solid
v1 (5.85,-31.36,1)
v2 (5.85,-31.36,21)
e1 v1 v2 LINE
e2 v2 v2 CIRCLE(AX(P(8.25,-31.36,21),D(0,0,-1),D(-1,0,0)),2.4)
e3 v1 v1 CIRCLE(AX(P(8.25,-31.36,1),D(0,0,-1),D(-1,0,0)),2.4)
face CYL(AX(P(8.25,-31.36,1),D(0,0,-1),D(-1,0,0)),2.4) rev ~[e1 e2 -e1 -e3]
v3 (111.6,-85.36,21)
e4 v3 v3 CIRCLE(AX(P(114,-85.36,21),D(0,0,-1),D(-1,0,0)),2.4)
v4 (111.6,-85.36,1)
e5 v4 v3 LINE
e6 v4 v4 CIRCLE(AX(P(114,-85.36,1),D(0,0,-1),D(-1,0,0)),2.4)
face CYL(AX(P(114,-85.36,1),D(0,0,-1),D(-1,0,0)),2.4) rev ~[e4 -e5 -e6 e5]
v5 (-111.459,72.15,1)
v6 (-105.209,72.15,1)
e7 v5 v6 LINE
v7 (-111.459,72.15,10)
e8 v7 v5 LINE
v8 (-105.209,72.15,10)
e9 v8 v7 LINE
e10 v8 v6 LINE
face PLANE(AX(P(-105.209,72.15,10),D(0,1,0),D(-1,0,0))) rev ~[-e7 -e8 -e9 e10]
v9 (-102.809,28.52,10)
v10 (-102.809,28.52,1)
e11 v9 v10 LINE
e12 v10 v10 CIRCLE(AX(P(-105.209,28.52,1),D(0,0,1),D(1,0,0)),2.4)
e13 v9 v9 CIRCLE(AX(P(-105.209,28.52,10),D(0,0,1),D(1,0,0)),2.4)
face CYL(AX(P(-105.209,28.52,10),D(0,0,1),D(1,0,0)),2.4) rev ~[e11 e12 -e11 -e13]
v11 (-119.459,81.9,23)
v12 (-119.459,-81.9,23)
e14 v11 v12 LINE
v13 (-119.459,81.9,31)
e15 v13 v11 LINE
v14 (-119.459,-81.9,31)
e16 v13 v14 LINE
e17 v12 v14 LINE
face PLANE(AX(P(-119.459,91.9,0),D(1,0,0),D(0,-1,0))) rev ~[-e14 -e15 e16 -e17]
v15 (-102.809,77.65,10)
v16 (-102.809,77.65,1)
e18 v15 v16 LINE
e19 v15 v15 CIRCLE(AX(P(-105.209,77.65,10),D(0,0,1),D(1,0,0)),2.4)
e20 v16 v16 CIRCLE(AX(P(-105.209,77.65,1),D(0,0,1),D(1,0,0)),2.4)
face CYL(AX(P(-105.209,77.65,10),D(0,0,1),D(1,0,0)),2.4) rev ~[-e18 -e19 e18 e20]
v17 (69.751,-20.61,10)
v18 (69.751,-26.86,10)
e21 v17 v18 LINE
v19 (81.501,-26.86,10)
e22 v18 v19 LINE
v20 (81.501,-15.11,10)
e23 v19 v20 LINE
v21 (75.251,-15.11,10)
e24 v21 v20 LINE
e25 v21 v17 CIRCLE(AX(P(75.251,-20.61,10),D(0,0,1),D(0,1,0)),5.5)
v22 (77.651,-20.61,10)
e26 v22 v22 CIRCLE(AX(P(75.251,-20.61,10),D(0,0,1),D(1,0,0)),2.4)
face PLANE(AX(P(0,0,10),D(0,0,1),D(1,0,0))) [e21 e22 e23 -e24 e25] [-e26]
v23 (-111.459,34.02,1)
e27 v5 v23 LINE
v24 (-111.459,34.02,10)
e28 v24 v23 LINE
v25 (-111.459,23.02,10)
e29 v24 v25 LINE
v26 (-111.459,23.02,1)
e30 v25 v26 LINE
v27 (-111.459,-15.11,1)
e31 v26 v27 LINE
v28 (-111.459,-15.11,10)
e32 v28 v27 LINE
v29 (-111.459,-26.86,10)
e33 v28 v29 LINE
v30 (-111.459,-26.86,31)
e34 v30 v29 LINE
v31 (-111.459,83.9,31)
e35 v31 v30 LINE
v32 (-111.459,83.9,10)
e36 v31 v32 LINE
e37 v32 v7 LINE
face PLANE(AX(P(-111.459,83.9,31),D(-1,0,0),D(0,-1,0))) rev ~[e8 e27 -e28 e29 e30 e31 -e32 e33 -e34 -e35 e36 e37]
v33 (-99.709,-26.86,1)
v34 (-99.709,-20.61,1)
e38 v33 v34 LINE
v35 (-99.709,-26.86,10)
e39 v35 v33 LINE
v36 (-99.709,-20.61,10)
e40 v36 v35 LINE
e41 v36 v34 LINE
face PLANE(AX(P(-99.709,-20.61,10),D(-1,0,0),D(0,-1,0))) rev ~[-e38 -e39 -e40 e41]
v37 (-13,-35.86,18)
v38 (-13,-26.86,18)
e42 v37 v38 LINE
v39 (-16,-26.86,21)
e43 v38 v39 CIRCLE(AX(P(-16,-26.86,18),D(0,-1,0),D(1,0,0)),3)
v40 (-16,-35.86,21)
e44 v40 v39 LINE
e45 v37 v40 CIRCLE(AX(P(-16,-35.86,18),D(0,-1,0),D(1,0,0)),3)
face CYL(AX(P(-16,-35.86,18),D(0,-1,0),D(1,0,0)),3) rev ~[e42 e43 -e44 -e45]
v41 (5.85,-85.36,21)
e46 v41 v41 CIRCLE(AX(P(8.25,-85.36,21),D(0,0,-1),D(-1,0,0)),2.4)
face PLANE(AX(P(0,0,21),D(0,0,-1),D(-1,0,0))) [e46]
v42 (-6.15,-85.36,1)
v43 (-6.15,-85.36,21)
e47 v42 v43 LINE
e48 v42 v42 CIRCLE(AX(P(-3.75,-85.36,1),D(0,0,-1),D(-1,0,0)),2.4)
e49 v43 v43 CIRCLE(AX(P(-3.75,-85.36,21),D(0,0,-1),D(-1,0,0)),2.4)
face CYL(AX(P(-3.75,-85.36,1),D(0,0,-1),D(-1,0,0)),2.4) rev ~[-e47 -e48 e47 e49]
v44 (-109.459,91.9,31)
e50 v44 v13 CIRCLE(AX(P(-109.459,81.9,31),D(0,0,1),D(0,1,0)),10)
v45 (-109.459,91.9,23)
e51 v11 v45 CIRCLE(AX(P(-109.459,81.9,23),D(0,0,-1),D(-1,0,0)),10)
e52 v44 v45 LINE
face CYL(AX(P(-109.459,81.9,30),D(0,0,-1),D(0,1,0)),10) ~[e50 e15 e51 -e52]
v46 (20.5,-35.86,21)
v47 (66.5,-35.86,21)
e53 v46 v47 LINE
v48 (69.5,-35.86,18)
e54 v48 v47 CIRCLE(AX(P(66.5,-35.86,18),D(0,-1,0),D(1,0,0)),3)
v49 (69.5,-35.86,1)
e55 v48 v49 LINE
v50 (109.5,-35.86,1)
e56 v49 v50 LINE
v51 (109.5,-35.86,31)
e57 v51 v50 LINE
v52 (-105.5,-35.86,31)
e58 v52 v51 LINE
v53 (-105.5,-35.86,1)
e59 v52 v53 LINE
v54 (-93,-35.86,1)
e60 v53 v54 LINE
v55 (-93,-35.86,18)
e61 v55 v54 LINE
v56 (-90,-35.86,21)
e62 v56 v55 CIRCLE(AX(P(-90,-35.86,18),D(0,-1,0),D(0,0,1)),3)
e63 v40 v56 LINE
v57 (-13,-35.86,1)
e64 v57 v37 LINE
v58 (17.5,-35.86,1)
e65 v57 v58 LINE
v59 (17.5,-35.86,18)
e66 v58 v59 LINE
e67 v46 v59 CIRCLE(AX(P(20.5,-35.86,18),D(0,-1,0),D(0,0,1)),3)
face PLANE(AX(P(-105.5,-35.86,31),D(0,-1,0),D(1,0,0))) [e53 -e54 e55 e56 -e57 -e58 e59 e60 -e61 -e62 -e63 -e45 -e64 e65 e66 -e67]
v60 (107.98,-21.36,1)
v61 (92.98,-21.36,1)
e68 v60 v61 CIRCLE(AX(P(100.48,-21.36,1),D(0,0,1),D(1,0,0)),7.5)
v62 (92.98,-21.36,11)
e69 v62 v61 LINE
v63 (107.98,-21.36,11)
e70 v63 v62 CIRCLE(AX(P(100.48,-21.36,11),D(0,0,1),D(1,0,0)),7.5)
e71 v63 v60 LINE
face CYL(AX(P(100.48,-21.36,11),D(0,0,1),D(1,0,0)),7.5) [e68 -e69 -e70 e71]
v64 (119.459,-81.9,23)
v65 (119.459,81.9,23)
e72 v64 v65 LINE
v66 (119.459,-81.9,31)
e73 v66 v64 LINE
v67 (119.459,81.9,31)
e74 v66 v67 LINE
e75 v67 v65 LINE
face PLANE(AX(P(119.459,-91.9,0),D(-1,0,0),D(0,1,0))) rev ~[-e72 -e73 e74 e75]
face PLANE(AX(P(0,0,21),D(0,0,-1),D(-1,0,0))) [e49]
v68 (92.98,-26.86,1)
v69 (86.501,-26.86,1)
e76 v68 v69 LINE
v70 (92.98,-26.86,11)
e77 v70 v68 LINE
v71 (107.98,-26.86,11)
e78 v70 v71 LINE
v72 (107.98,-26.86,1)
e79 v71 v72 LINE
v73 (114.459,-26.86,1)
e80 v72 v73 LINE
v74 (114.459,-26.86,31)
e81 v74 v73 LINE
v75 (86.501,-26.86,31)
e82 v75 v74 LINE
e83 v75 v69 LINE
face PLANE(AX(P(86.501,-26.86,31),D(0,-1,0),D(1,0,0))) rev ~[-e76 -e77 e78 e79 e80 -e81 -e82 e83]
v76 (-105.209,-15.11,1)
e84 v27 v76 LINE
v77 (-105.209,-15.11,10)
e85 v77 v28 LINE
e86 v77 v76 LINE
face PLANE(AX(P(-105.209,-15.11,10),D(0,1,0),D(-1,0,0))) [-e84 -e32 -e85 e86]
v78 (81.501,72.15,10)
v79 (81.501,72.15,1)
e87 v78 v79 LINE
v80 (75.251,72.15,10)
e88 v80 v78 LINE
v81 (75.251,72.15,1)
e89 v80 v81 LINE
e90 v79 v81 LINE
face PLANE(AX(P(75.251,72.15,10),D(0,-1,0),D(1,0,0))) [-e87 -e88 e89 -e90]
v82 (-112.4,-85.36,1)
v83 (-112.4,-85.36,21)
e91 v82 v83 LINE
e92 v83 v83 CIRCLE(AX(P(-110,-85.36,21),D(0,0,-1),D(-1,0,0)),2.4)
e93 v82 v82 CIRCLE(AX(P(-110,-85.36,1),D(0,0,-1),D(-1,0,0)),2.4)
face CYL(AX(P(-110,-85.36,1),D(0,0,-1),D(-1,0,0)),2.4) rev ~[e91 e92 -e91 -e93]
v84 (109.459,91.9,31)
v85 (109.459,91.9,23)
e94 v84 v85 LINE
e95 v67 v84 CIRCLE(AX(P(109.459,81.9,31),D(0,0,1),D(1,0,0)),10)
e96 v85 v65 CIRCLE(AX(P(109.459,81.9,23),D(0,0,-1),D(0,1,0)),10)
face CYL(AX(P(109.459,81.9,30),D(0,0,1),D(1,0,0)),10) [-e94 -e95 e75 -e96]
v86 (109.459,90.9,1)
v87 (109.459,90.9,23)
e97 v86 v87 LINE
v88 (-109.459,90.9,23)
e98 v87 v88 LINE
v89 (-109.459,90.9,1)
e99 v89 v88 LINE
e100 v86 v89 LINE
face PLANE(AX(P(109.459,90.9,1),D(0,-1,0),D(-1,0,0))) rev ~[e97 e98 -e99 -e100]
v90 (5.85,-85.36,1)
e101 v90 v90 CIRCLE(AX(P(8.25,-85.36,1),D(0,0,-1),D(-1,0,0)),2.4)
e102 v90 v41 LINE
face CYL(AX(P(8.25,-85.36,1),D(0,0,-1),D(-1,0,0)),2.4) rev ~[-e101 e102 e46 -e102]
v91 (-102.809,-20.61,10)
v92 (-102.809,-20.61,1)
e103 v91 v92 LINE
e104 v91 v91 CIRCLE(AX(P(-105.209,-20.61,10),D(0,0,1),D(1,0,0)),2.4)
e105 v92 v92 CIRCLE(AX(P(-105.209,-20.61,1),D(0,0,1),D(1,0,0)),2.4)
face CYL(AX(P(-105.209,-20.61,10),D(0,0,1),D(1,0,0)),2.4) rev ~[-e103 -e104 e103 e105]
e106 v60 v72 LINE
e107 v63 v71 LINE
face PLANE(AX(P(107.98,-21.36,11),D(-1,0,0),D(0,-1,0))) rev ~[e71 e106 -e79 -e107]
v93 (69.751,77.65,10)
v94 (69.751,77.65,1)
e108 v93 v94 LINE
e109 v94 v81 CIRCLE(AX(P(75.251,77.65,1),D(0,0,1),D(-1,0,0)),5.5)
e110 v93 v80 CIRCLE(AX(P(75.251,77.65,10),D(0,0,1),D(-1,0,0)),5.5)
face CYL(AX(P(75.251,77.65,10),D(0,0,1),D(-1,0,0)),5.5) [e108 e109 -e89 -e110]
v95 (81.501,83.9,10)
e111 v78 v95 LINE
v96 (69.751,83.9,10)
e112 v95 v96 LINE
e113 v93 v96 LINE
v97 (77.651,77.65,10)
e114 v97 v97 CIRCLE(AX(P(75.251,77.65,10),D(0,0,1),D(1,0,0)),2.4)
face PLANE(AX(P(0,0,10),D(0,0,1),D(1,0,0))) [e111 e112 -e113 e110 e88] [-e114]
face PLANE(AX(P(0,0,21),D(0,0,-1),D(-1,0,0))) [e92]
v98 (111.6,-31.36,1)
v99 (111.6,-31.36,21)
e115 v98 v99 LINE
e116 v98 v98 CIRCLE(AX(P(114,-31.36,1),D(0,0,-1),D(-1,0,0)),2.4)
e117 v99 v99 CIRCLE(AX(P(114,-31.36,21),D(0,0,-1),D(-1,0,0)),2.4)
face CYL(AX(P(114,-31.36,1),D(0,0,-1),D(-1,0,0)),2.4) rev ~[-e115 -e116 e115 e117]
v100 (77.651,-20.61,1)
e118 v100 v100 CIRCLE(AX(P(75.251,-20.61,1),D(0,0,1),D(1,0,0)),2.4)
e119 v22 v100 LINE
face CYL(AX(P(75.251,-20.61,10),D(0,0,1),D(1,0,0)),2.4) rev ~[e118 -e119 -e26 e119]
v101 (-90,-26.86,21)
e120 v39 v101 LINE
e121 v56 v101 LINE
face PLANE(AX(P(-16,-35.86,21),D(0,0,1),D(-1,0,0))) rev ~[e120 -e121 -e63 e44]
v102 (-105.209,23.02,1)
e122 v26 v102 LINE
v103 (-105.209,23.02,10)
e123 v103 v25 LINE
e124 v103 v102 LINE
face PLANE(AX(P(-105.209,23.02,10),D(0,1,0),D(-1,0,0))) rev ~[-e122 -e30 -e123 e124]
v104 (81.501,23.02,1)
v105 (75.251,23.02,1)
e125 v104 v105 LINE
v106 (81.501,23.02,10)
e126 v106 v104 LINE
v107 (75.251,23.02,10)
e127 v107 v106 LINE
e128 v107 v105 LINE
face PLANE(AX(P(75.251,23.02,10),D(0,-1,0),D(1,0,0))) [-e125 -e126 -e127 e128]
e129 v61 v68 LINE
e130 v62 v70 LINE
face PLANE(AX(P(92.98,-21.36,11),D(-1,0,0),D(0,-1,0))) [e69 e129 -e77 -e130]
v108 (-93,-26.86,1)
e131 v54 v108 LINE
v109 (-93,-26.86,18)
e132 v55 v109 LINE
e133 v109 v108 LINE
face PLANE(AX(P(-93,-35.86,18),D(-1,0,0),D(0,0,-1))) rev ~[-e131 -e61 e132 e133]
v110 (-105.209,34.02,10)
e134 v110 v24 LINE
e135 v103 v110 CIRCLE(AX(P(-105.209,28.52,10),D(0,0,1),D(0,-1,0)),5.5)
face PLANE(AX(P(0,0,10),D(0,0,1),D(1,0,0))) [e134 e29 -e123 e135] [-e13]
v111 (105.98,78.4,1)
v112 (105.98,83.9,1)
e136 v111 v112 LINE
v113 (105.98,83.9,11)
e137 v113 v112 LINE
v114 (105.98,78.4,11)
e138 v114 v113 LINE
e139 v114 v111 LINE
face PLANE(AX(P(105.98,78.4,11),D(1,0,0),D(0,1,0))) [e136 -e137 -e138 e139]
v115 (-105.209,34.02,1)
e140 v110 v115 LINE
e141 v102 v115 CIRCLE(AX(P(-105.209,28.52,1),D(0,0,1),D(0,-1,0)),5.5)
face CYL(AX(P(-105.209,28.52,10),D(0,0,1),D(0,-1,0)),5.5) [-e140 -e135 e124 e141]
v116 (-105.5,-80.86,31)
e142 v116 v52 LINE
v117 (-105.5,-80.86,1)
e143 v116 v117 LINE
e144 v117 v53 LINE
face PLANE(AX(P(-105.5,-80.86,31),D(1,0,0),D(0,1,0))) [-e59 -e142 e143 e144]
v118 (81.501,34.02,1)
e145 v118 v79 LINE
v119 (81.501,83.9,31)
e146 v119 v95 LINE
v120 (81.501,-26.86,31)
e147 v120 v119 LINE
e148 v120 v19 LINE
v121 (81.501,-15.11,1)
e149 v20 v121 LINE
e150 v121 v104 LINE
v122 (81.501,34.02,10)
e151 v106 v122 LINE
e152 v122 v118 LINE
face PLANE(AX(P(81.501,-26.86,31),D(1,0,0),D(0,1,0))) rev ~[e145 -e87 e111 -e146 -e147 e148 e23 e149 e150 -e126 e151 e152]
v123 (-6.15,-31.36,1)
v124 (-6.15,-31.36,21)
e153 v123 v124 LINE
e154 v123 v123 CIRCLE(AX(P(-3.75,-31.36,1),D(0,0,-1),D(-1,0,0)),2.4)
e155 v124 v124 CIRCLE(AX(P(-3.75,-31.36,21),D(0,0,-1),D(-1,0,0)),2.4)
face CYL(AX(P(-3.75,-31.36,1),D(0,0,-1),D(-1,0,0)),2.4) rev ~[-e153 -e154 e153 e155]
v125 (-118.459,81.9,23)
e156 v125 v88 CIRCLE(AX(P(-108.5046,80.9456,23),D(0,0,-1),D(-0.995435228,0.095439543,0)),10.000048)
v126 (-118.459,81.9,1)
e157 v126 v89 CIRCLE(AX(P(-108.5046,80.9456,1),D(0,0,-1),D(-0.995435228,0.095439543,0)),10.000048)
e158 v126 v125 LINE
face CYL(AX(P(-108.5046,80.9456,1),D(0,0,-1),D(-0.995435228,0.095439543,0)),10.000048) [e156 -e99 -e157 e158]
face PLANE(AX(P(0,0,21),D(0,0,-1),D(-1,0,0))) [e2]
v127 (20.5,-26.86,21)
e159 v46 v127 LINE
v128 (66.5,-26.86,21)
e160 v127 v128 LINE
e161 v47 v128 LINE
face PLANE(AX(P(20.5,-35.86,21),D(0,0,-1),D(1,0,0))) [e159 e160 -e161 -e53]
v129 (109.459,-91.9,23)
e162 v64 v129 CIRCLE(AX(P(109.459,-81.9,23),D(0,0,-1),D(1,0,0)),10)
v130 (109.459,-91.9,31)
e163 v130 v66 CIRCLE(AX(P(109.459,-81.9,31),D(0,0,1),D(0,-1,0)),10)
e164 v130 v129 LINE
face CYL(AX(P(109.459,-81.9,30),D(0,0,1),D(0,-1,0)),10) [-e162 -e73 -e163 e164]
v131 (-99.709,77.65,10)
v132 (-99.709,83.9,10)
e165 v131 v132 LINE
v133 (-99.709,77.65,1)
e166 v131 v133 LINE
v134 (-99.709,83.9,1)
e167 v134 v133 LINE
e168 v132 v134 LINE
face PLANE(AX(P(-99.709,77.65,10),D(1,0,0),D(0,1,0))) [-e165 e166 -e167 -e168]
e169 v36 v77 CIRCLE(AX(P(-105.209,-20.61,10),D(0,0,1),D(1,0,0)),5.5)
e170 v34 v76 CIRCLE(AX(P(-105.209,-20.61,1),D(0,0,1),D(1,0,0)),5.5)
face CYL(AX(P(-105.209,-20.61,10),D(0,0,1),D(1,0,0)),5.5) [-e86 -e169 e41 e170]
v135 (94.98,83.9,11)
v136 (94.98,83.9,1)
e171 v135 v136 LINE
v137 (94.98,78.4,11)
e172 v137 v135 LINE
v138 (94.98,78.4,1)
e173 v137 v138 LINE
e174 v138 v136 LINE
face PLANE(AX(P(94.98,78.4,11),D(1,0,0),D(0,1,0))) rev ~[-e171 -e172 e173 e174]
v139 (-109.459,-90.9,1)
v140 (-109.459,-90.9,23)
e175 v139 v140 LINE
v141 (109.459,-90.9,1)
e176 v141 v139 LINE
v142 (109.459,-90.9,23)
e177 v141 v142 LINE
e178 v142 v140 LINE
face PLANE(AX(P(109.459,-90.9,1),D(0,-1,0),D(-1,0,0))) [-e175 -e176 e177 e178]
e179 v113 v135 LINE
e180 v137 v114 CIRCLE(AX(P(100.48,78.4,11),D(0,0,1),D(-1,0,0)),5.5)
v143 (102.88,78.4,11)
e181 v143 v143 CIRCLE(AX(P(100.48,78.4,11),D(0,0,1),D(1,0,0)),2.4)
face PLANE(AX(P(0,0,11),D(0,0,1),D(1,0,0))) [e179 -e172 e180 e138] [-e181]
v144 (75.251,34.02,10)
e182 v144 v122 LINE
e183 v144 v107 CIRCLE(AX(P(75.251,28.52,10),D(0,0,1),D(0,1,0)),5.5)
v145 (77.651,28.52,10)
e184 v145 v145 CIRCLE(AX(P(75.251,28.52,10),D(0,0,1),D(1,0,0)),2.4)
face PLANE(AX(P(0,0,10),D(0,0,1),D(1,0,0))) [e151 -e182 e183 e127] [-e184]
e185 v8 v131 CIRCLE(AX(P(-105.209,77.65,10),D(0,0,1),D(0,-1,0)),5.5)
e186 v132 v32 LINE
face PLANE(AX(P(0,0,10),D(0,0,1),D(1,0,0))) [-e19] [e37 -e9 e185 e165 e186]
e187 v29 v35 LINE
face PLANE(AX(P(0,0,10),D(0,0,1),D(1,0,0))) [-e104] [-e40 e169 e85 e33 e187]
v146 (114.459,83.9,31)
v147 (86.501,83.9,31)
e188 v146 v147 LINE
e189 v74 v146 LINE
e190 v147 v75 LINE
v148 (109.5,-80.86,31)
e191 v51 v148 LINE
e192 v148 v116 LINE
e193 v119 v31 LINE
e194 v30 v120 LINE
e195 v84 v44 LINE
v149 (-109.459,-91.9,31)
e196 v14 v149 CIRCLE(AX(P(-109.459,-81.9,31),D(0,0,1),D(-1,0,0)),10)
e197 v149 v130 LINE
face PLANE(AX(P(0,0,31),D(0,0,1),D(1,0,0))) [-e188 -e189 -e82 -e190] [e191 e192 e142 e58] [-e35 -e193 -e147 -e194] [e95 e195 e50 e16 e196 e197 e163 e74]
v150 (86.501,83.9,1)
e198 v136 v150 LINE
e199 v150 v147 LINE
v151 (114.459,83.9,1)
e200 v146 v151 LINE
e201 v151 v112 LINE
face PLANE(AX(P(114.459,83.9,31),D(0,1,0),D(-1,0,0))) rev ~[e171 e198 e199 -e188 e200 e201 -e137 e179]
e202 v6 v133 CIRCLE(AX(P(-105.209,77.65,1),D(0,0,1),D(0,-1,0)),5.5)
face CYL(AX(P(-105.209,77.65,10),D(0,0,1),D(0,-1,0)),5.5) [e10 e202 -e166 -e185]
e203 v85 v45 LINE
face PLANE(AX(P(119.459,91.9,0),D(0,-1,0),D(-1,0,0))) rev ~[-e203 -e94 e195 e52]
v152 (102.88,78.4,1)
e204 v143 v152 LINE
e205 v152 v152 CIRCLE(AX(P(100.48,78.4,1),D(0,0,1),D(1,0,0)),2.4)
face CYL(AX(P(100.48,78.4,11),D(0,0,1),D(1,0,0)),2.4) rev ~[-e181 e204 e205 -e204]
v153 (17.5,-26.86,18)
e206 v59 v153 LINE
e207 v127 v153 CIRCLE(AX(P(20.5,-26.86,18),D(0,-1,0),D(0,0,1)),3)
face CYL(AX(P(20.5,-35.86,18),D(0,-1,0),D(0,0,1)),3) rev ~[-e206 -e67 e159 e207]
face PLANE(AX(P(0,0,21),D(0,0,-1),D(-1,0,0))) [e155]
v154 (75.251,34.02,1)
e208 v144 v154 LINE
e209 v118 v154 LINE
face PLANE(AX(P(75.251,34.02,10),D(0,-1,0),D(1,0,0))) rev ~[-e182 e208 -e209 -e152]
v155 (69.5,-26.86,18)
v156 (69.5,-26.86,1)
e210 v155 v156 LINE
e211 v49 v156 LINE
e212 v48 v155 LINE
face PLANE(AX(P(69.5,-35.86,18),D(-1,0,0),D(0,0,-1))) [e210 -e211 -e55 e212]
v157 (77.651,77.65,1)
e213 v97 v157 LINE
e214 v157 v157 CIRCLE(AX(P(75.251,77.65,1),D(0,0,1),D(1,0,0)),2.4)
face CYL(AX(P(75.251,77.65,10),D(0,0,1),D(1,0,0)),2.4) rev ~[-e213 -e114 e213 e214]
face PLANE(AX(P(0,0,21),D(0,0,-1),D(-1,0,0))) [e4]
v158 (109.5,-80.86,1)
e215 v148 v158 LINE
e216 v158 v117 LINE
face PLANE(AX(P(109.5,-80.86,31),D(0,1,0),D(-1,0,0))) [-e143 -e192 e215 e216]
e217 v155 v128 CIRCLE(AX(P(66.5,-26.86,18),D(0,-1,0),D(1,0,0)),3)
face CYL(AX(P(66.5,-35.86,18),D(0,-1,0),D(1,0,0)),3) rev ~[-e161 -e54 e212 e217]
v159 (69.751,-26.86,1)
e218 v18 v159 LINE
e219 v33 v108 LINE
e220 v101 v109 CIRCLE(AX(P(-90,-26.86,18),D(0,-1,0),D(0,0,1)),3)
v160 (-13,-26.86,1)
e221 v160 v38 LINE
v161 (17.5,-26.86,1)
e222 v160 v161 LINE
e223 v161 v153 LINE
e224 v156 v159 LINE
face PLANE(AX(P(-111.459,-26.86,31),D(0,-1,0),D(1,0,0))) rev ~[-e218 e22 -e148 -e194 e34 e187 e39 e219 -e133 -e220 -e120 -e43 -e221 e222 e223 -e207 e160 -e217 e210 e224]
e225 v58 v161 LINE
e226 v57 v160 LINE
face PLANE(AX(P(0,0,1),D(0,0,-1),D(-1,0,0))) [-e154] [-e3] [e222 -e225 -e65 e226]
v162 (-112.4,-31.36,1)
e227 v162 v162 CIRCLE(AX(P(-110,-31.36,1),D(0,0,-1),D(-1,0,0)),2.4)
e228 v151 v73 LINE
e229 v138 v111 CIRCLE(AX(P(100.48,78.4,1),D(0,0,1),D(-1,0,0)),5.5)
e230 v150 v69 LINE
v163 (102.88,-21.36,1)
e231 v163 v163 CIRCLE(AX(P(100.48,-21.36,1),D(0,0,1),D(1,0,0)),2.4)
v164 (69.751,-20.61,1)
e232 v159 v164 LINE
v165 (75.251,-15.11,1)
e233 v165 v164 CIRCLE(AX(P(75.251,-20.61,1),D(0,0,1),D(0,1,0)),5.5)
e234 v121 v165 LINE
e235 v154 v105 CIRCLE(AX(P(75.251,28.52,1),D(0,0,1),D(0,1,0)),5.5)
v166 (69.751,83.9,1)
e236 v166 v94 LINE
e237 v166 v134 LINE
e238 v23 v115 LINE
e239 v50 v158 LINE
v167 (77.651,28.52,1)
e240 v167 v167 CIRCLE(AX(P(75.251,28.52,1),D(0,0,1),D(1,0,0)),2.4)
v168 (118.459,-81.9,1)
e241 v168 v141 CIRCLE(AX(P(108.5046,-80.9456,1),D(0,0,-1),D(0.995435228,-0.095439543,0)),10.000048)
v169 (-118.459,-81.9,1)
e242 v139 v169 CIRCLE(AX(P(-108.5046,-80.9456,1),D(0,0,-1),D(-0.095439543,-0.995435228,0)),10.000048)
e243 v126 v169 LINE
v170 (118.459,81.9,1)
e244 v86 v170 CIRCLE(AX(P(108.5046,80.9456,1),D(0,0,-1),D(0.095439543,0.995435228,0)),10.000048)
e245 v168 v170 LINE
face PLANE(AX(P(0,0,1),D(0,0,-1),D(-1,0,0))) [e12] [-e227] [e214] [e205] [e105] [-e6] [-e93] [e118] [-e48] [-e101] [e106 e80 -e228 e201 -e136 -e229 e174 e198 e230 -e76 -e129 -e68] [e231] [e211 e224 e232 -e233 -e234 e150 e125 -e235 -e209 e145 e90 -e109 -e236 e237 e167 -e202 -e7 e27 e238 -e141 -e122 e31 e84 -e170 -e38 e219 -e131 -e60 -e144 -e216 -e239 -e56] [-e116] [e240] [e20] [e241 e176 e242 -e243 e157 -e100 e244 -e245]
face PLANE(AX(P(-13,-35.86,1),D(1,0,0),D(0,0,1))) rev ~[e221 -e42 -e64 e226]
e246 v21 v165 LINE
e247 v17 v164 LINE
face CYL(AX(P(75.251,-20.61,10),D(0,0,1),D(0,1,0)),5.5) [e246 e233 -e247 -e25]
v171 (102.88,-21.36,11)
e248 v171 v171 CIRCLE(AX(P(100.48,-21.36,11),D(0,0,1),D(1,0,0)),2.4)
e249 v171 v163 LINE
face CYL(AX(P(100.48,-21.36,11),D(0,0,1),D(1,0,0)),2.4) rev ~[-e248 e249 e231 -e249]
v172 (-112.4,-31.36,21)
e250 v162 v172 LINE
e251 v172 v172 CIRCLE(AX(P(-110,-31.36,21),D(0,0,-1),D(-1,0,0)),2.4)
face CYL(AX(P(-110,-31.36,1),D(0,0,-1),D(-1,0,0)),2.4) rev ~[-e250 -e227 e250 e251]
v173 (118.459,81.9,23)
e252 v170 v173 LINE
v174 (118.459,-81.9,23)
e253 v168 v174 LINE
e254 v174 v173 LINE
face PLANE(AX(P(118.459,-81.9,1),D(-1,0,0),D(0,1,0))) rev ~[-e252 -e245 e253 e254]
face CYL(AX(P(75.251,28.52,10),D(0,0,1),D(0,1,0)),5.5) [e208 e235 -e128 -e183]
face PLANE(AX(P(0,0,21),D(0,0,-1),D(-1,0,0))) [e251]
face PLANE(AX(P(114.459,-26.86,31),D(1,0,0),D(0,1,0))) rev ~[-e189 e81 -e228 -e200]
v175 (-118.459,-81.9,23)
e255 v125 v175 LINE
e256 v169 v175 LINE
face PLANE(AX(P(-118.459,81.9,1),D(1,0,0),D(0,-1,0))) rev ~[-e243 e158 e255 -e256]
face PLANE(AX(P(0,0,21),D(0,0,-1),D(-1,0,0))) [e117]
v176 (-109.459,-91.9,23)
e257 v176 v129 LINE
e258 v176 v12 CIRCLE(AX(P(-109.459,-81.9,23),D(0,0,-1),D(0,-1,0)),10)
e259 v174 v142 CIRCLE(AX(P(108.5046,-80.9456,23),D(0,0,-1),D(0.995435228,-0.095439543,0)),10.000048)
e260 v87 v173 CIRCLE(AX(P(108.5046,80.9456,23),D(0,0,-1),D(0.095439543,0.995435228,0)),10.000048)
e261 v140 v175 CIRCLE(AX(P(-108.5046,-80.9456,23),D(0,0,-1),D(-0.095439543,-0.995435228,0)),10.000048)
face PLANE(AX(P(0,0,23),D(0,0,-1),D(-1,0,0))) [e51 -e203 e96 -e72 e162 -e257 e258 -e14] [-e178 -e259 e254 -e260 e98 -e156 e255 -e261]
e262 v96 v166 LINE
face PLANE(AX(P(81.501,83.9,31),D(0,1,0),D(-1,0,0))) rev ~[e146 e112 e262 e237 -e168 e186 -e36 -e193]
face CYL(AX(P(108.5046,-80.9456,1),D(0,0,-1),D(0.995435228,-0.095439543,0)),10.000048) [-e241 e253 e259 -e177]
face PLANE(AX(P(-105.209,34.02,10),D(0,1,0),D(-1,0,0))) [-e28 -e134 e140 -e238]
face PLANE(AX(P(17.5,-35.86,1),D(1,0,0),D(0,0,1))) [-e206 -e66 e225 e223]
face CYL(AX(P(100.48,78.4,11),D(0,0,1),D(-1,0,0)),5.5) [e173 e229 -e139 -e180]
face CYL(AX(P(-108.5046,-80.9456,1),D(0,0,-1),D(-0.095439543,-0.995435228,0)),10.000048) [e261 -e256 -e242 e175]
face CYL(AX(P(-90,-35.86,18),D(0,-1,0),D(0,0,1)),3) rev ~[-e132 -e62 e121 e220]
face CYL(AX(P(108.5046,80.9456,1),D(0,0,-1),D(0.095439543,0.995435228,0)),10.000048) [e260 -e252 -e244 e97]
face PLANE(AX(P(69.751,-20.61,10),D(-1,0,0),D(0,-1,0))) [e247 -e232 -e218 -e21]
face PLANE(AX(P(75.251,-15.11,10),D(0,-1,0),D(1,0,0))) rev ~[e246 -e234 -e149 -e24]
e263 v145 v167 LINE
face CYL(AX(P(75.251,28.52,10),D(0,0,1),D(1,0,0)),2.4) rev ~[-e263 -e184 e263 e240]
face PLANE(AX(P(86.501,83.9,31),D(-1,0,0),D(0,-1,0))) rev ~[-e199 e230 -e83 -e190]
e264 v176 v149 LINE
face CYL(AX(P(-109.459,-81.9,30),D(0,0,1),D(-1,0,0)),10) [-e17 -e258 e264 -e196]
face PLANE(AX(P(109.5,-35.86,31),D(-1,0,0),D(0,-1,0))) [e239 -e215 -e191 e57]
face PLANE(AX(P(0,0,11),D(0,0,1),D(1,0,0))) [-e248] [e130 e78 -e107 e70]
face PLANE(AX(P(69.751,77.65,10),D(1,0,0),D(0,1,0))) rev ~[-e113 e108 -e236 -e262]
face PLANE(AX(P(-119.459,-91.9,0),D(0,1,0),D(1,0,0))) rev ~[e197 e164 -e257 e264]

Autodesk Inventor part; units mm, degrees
ref_plane "YZ Plane" through (0, 0, 0) normal (1, 0, 0) x (0, 1, 0)
ref_plane "XZ Plane" through (0, 0, 0) normal (0, 1, 0) x (-1, 0, 0)
ref_plane "XY Plane" through (0, 0, 0) normal (0, 0, 1) x (1, 0, 0)
sketch "Sketch1" plane through (0, 0, 0) normal (0, 0, 1) x (1, 0, 0)
  line L0 (-119.459, -91.9) -> (119.459, -91.9)
  line L1 (119.459, -91.9) -> (119.459, 91.9)
  line L2 (119.459, 91.9) -> (-119.459, 91.9)
  line L3 (-119.459, 91.9) -> (-119.459, -91.9)
  line L4 (-119.459, -91.9) -> (119.459, 91.9) construction
  line L5 (119.459, -91.9) -> (-119.459, 91.9) construction
  point P0 (0, 0)
  dimension "d0" = 238.918
  dimension "d1" = 183.8
extrude "Extrusion1" add sketch "Sketch1" along normal blind 30
sketch "Sketch2" plane through (0, 0, 30) normal (0, 0, 1) x (1, 0, 0)
  arc A0 (-109.459, 91.9) -> (-119.459, 81.9) centre (-109.459, 81.9) ccw
  line L0 (119.459, 91.9) -> (-119.459, 91.9) projected
  line L1 (-119.459, 91.9) -> (-119.459, -91.9) projected
  line L2 (-119.459, 81.9) -> (-119.459, 91.9)
  line L3 (-109.459, 91.9) -> (-119.459, 91.9)
  arc A1 (-119.459, -81.9) -> (-109.459, -91.9) centre (-109.459, -81.9) ccw
  line L4 (-119.459, -91.9) -> (119.459, -91.9) projected
  line L5 (-119.459, -81.9) -> (-119.459, -91.9)
  line L6 (-109.459, -91.9) -> (-119.459, -91.9)
  arc A2 (109.459, -91.9) -> (119.459, -81.9) centre (109.459, -81.9) ccw
  line L7 (119.459, -91.9) -> (119.459, 91.9) projected
  line L8 (109.459, -91.9) -> (119.459, -91.9)
  line L9 (119.459, -81.9) -> (119.459, -91.9)
  arc A3 (119.459, 81.9) -> (109.459, 91.9) centre (109.459, 81.9) ccw
  line L10 (109.459, 91.9) -> (119.459, 91.9)
  line L11 (119.459, 81.9) -> (119.459, 91.9)
  point P0 (0, 0)
  dimension "d4" = 20
  dimension "d5" = 20
  dimension "d6" = 20
  dimension "d7" = 20
extrude "Extrusion2" add sketch "Sketch2" along normal blind 1 contours L0 A3 L7 A2 L4 A1 L1 A0
sketch "Sketch3" plane through (0, 0, 30) normal (0, 0, 1) x (1, 0, 0)
  line L0 (-119.459, -81.9) -> (-119.459, -91.9) projected
  arc A0 (-119.459, -81.9) -> (-109.459, -91.9) centre (-109.459, -81.9) ccw projected
  arc A1 (-119.459, -81.9) -> (-109.459, -91.9) centre (-109.459, -81.9) ccw
  line L1 (-119.459, -81.9) -> (-119.459, -91.9)
  line L2 (-119.459, -91.9) -> (-109.459, -91.9) projected
  line L3 (-109.459, -91.9) -> (-119.459, -91.9)
  arc A2 (-109.459, 91.9) -> (-119.459, 81.9) centre (-109.459, 81.9) ccw projected
  line L4 (-119.459, 81.9) -> (-119.459, -81.9) projected
  arc A3 (-109.459, 91.9) -> (-119.459, 81.9) centre (-109.459, 81.9) ccw
  line L5 (-119.459, 91.9) -> (-119.459, -91.9) projected
  line L6 (-119.459, 81.9) -> (-119.459, 91.9)
  line L7 (-119.459, 91.9) -> (-109.459, 91.9)
  arc A4 (119.459, 81.9) -> (109.459, 91.9) centre (109.459, 81.9) ccw projected
  arc A5 (119.459, 81.9) -> (109.459, 91.9) centre (109.459, 81.9) ccw
  line L8 (119.459, 81.9) -> (119.459, 91.9) projected
  line L9 (109.459, 91.9) -> (119.459, 91.9)
  line L10 (119.459, 91.9) -> (119.459, 81.9)
  arc A6 (109.459, -91.9) -> (119.459, -81.9) centre (109.459, -81.9) ccw projected
  arc A7 (109.459, -91.9) -> (119.459, -81.9) centre (109.459, -81.9) ccw
  line L11 (119.459, -91.9) -> (119.459, -81.9) projected
  line L12 (119.459, -81.9) -> (119.459, -91.9)
  line L13 (119.459, -91.9) -> (109.459, -91.9)
  point P0 (0, 0)
extrude "Extrusion3" cut sketch "Sketch3" against normal blind 30
sketch "Sketch4" plane through (0, 0, 31) normal (0, 0, 1) x (1, 0, 0)
  line L0 (-111.459, -26.86) -> (81.501, -26.86)
  line L1 (81.501, -26.86) -> (81.501, 83.9)
  line L2 (81.501, 83.9) -> (-111.459, 83.9)
  line L3 (-111.459, 83.9) -> (-111.459, -26.86)
  line L4 (-111.459, -26.86) -> (81.501, 83.9) construction
  line L5 (81.501, -26.86) -> (-111.459, 83.9) construction
  line L6 (109.459, 91.9) -> (-109.459, 91.9) projected
  line L7 (-119.459, 81.9) -> (-119.459, -81.9) projected
  point P0 (0, 0)
  point P1 (-14.979, 28.52)
  dimension "d12" = 192.96
  dimension "d13" = 110.76
  dimension "d14" = 8
  dimension "d15" = 8
extrude "Extrusion4" cut sketch "Sketch4" against normal blind 21
sketch "Sketch5" plane through (0, 0, 0) normal (0, 0, -1) x (-1, 0, 0)
  arc A0 (-109.459, 91.9) -> (-119.459, 81.9) centre (-109.459, 81.9) ccw projected
  arc A1 (-109.459, 91.9) -> (-119.459, 81.9) centre (-109.459, 81.9) ccw
  arc A2 (119.459, 81.9) -> (109.459, 91.9) centre (109.459, 81.9) ccw projected
  arc A3 (119.459, 81.9) -> (109.459, 91.9) centre (109.459, 81.9) ccw
  arc A4 (109.459, -91.9) -> (119.459, -81.9) centre (109.459, -81.9) ccw projected
  arc A5 (109.459, -91.9) -> (119.459, -81.9) centre (109.459, -81.9) ccw
  arc A6 (-119.459, -81.9) -> (-109.459, -91.9) centre (-109.459, -81.9) ccw projected
  arc A7 (-119.459, -81.9) -> (-109.459, -91.9) centre (-109.459, -81.9) ccw
  line L0 (-119.459, -91.9) -> (-119.459, 81.9) projected
  line L1 (-119.459, 81.9) -> (-119.459, -81.9)
  line L2 (109.459, -91.9) -> (-119.459, -91.9) projected
  line L3 (-109.459, -91.9) -> (109.459, -91.9)
  line L4 (119.459, 91.9) -> (119.459, -81.9) projected
  line L5 (119.459, -81.9) -> (119.459, 81.9)
  line L6 (-109.459, 91.9) -> (119.459, 91.9) projected
  line L7 (-109.459, 91.9) -> (109.459, 91.9)
  point P0 (0, 0)
extrude "Extrusion5" cut sketch "Sketch5" against normal blind 1 contours L6 A2 L4 A4 L2 A6 L0 A0
sketch "Sketch6" plane through (0, 0, 1) normal (0, 0, -1) x (-1, 0, 0)
  arc A0 (109.459, -91.9) -> (119.459, -81.9) centre (109.459, -81.9) ccw construction
  line L0 (119.459, -81.9) -> (118.459, -81.9) construction
  line L1 (109.459, -91.9) -> (109.459, -90.9) construction
  arc A1 (109.459, -90.9) -> (118.459, -81.9) centre (108.5046, -80.9456) ccw
  arc A2 (119.459, 81.9) -> (109.459, 91.9) centre (109.459, 81.9) ccw construction
  line L2 (119.459, 81.9) -> (118.459, 81.9) construction
  line L3 (109.459, 91.9) -> (109.459, 90.9) construction
  arc A3 (118.459, 81.9) -> (109.459, 90.9) centre (108.5046, 80.9456) ccw
  line L4 (119.459, 81.9) -> (119.459, -81.9) projected
  line L5 (118.459, 81.9) -> (118.459, -81.9)
  line L6 (-109.459, 91.9) -> (109.459, 91.9) construction
  line L7 (-109.459, 91.9) -> (-109.459, 90.9) construction
  line L8 (-119.459, 81.9) -> (-118.459, 81.9) construction
  arc A4 (-109.459, 90.9) -> (-118.459, 81.9) centre (-108.5046, 80.9456) ccw
  line L9 (-109.459, 90.9) -> (109.459, 90.9)
  arc A5 (-119.459, -81.9) -> (-109.459, -91.9) centre (-109.459, -81.9) ccw construction
  line L10 (-119.459, -81.9) -> (-118.459, -81.9) construction
  line L11 (109.459, -91.9) -> (-109.459, -91.9) construction
  line L12 (-109.459, -91.9) -> (-109.459, -90.9) construction
  arc A6 (-118.459, -81.9) -> (-109.459, -90.9) centre (-108.5046, -80.9456) ccw
  line L13 (-118.459, -81.9) -> (-118.459, 81.9)
  line L14 (-109.459, -90.9) -> (109.459, -90.9)
  arc A7 (-119.459, -81.9) -> (-109.459, -91.9) centre (-109.459, -81.9) ccw
  line L15 (-119.459, -81.9) -> (-119.459, 81.9) projected
  line L16 (-119.459, -81.9) -> (-119.459, 81.9)
  arc A8 (-109.459, 91.9) -> (-119.459, 81.9) centre (-109.459, 81.9) ccw
  line L17 (-109.459, 91.9) -> (109.459, 91.9)
  arc A9 (119.459, 81.9) -> (109.459, 91.9) centre (109.459, 81.9) ccw
  line L18 (119.459, 81.9) -> (119.459, -81.9)
  arc A10 (109.459, -91.9) -> (119.459, -81.9) centre (109.459, -81.9) ccw
  line L19 (109.459, -91.9) -> (-109.459, -91.9)
  point P0 (0, 0)
  dimension "d20" = 1
  dimension "d21" = 1
  dimension "d22" = 10
  dimension "d23" = 1
  dimension "d24" = 1
  dimension "d25" = 10
  dimension "d26" = 1
  dimension "d27" = 1
  dimension "d28" = 10
  dimension "d29" = 1
  dimension "d30" = 1
  dimension "d31" = 10
extrude "Extrusion6" cut sketch "Sketch6" against normal blind 22
sketch "Sketch8" plane through (0, 0, 10) normal (0, 0, 1) x (1, 0, 0)
  arc A0 (-105.209, 72.15) -> (-99.709, 77.65) centre (-105.209, 77.65) ccw
  line L0 (-111.459, 83.9) -> (81.501, 83.9) projected
  line L1 (-111.459, -26.86) -> (-111.459, 83.9) projected
  line L2 (-105.209, 77.65) -> (-99.709, 77.65) construction
  line L3 (-105.209, 77.65) -> (-105.209, 72.15) construction
  line L4 (-99.709, 77.65) -> (-99.709, 83.9)
  line L5 (-105.209, 72.15) -> (-111.459, 72.15)
  line L6 (-111.459, -26.86) -> (-111.459, 83.9) projected
  circle A1 centre (-105.209, 77.65) radius 2.4
  arc A2 (69.751, 77.65) -> (75.251, 72.15) centre (75.251, 77.65) ccw
  line L7 (81.501, 83.9) -> (81.501, -26.86) projected
  line L8 (75.251, 77.65) -> (75.251, 72.15) construction
  line L9 (75.251, 77.65) -> (69.751, 77.65) construction
  line L10 (69.751, 77.65) -> (69.751, 83.9)
  line L11 (75.251, 72.15) -> (81.501, 72.15)
  circle A3 centre (75.251, 77.65) radius 2.4
  arc A4 (75.251, -15.11) -> (69.751, -20.61) centre (75.251, -20.61) ccw
  line L12 (81.501, -26.86) -> (-111.459, -26.86) projected
  line L13 (75.251, -20.61) -> (75.251, -15.11) construction
  line L14 (75.251, -20.61) -> (69.751, -20.61) construction
  line L15 (75.251, -15.11) -> (81.501, -15.11)
  line L16 (69.751, -20.61) -> (69.751, -26.86)
  line L17 (81.501, -26.86) -> (-111.459, -26.86) projected
  circle A5 centre (75.251, -20.61) radius 2.4
  arc A6 (-99.709, -20.61) -> (-105.209, -15.11) centre (-105.209, -20.61) ccw
  line L18 (-105.209, -20.61) -> (-99.709, -20.61) construction
  line L19 (-105.209, -20.61) -> (-105.209, -15.11) construction
  line L20 (-105.209, -15.11) -> (-111.459, -15.11)
  line L21 (-99.709, -20.61) -> (-99.709, -26.86)
  circle A7 centre (-105.209, -20.61) radius 2.4
  arc A8 (-105.209, 23.02) -> (-105.209, 34.02) centre (-105.209, 28.52) ccw
  line L22 (-105.209, 28.52) -> (-105.209, 34.02) construction
  line L23 (-105.209, 28.52) -> (-105.209, 23.02) construction
  line L24 (-105.209, 34.02) -> (-111.459, 34.02)
  line L25 (-105.209, 23.02) -> (-111.459, 23.02)
  circle A9 centre (-105.209, 28.52) radius 2.4
  arc A10 (75.251, 34.02) -> (75.251, 23.02) centre (75.251, 28.52) ccw
  line L26 (75.251, 28.52) -> (75.251, 34.02) construction
  line L27 (75.251, 28.52) -> (75.251, 23.02) construction
  line L28 (75.251, 23.02) -> (81.501, 23.02)
  line L29 (75.251, 34.02) -> (81.501, 34.02)
  circle A11 centre (75.251, 28.52) radius 2.4
  line L30 (-99.709, 83.9) -> (69.751, 83.9)
  line L31 (81.501, 72.15) -> (81.501, 34.02)
  line L32 (81.501, -15.11) -> (81.501, 23.02)
  line L33 (69.751, -26.86) -> (-99.709, -26.86)
  line L34 (-111.459, -15.11) -> (-111.459, 23.02)
  line L35 (-111.459, 34.02) -> (-111.459, 72.15)
  line L36 (-111.459, 34.02) -> (-111.459, 23.02)
  line L37 (-111.459, 72.15) -> (-111.459, 83.9)
  line L38 (-99.709, 83.9) -> (-111.459, 83.9)
  line L39 (-111.459, -15.11) -> (-111.459, -26.86)
  line L40 (-111.459, -26.86) -> (-99.709, -26.86)
  line L41 (69.751, -26.86) -> (81.501, -26.86)
  line L42 (81.501, -15.11) -> (81.501, -26.86)
  line L43 (81.501, 23.02) -> (81.501, 34.02)
  line L44 (81.501, 72.15) -> (81.501, 83.9)
  line L45 (81.501, 83.9) -> (69.751, 83.9)
  line L46 (-14.979, 83.9) -> (-14.979, -26.86)
  point P0 (0, 0)
  dimension "d45" = 11
  dimension "d46" = 6.25
  dimension "d47" = 6.25
  dimension "d48" = 4.8
  dimension "d49" = 11
  dimension "d50" = 6.25
  dimension "d51" = 6.25
  dimension "d52" = 4.8
  dimension "d53" = 11
  dimension "d54" = 6.25
  dimension "d55" = 6.25
  dimension "d56" = 4.8
  dimension "d57" = 11
  dimension "d58" = 6.25
  dimension "d59" = 6.25
  dimension "d60" = 4.8
  dimension "d61" = 11
  dimension "d62" = 49.13
  dimension "d63" = 6.25
  dimension "d64" = 49.13
  dimension "d65" = 98.26
  dimension "d66" = 4.8
  dimension "d67" = 11
  dimension "d68" = 6.25
  dimension "d69" = 49.13
  dimension "d70" = 4.8
  dimension "d71" = 49.13
extrude "Extrusion7" cut sketch "Sketch8" against normal blind 10 contours A0 L4 L0 L46 L12 L21 A6 L20 L1 L25 A8 L24 L5 | L0 L10 A2 L11 L7 L29 A10 L28 L15 A4 L16 L12 L46
sketch "Sketch9" plane through (0, 0, 10) normal (0, 0, 1) x (1, 0, 0)
  arc A0 (-105.209, 23.02) -> (-105.209, 34.02) centre (-105.209, 28.52) ccw projected
  circle A1 centre (-105.209, 28.52) radius 2.4
  arc A2 (-105.209, 72.15) -> (-99.709, 77.65) centre (-105.209, 77.65) ccw projected
  circle A3 centre (-105.209, 77.65) radius 2.4
  arc A4 (-99.709, -20.61) -> (-105.209, -15.11) centre (-105.209, -20.61) ccw projected
  circle A5 centre (-105.209, -20.61) radius 2.4
  arc A6 (75.251, -15.11) -> (69.751, -20.61) centre (75.251, -20.61) ccw projected
  circle A7 centre (75.251, -20.61) radius 2.4
  arc A8 (75.251, 34.02) -> (75.251, 23.02) centre (75.251, 28.52) ccw projected
  circle A9 centre (75.251, 28.52) radius 2.4
  arc A10 (69.751, 77.65) -> (75.251, 72.15) centre (75.251, 77.65) ccw projected
  circle A11 centre (75.251, 77.65) radius 2.4
  point P0 (0, 0)
  dimension "d74" = 4.8
  dimension "d75" = 4.8
  dimension "d76" = 4.8
  dimension "d77" = 4.8
  dimension "d78" = 4.8
  dimension "d79" = 4.8
extrude "Extrusion8" cut sketch "Sketch9" against normal blind 10
sketch "Sketch10" plane through (0, 0, 31) normal (0, 0, 1) x (1, 0, 0)
  line L0 (-105.5, -35.86) -> (109.5, -35.86)
  line L1 (109.5, -35.86) -> (109.5, -80.86)
  line L2 (109.5, -80.86) -> (-105.5, -80.86)
  line L3 (-105.5, -80.86) -> (-105.5, -35.86)
  line L4 (81.501, -26.86) -> (-111.459, -26.86) projected
  line L5 (-109.459, -91.9) -> (109.459, -91.9) projected
  line L6 (-119.459, 81.9) -> (-119.459, -81.9) projected
  line L7 (119.459, -81.9) -> (119.459, 81.9) projected
  point P0 (0, 0)
  dimension "d82" = 215
  dimension "d83" = 45
  dimension "d84" = 9
  dimension "d85" = 11.04
  dimension "d86" = 13.959
  dimension "d87" = 9.959
extrude "Extrusion9" cut sketch "Sketch10" against normal blind 30
sketch "Sketch11" plane through (0, 0, 1) normal (0, 0, -1) x (-1, 0, 0)
  line L0 (-109.5, -35.86) -> (105.5, -35.86) construction
  line L1 (-109.5, -35.86) -> (-69.5, -35.86) construction
  line L2 (99.709, -26.86) -> (-69.751, -26.86) projected
  line L3 (-69.5, -35.86) -> (-17.5, -35.86)
  line L4 (-17.5, -35.86) -> (-17.5, -26.86)
  line L5 (-17.5, -26.86) -> (-69.5, -26.86)
  line L6 (-69.5, -26.86) -> (-69.5, -35.86)
  line L7 (-17.5, -26.86) -> (13, -26.86)
  line L8 (13, -26.86) -> (13, -35.86)
  line L9 (13, -35.86) -> (-17.5, -35.86)
  line L10 (-17.5, -35.86) -> (-17.5, -26.86)
  line L11 (13, -26.86) -> (93, -26.86)
  line L12 (93, -26.86) -> (93, -35.86)
  line L13 (93, -35.86) -> (13, -35.86)
  line L14 (13, -35.86) -> (13, -26.86)
  line L15 (-17.5, -31.36) -> (13, -31.36) construction
  circle A0 centre (-8.25, -31.36) radius 2.4
  circle A1 centre (3.75, -31.36) radius 2.4
  line L16 (-109.5, -35.86) -> (-109.5, -26.86) construction
  line L17 (-109.5, -26.86) -> (-118.459, -26.86) construction
  line L18 (-118.459, 81.9) -> (-118.459, -81.9) construction
  line L19 (-109.5, -35.86) -> (-122.459, -35.86) construction
  circle A2 centre (-114, -31.36) radius 2.4
  line L20 (-109.5, -80.86) -> (-109.5, -35.86) projected
  circle A3 centre (-114, -85.36) radius 2.4
  line L21 (105.5, -80.86) -> (-109.5, -80.86) projected
  circle A4 centre (110, -31.36) radius 2.4
  line L22 (105.5, -35.86) -> (105.5, -80.86) projected
  circle A5 centre (110, -85.36) radius 2.4
  line L23 (110, -85.36) -> (-114, -85.36) construction
  line L24 (-8.25, -31.36) -> (-8.25, -85.36) construction
  line L25 (3.75, -31.36) -> (3.75, -85.36) construction
  circle A6 centre (-8.25, -85.36) radius 2.4
  circle A7 centre (3.75, -85.36) radius 2.4
  point P0 (0, 0)
  dimension "d90" = 40
  dimension "d91" = 52
  dimension "d92" = 30.5
  dimension "d93" = 80
  dimension "d94" = 4.8
  dimension "d95" = 4.8
  dimension "d96" = 9.25
  dimension "d97" = 9.25
  dimension "d98" = 12
  dimension "d120" = 4.5
  dimension "d121" = 9
  dimension "d122" = 4.8
  dimension "d123" = 4.5
  dimension "d124" = 4.5
  dimension "d125" = 4.8
  dimension "d126" = 4.5
  dimension "d127" = 4.5
  dimension "d128" = 4.8
  dimension "d129" = 4.5
  dimension "d130" = 4.5
  dimension "d131" = 4.8
  dimension "d132" = 4.5
  dimension "d133" = 4.5
  dimension "d134" = 4.8
  dimension "d135" = 4.8
extrude "Extrusion10" cut sketch "Sketch11" against normal blind 20 contours A0 | A1 | A2 | A3 | A4 | A5 | A6 | A7
sketch "Sketch12" plane through (-105.5, -35.86, 31) normal (0, -1, 0) x (1, 0, 0)
  line L0 (215, -30) -> (0, -30) construction
  line L1 (215, -30) -> (175, -30) construction
  line L2 (175.251, -21) -> (175.251, -30) construction
  line L3 (175, -30) -> (123, -30)
  line L4 (123, -30) -> (123, -13)
  line L5 (126, -10) -> (172, -10)
  line L6 (175, -13) -> (175, -30)
  line L7 (123, -30) -> (92.5, -30)
  line L8 (92.5, -30) -> (92.5, -13)
  line L9 (92.5, -10) -> (123, -10)
  line L10 (123, -13) -> (123, -30)
  line L11 (89.5, -10) -> (15.5, -10)
  line L12 (12.5, -13) -> (12.5, -30)
  line L13 (12.5, -30) -> (92.5, -30)
  line L14 (92.5, -30) -> (92.5, -13)
  line L15 (0, 0) -> (215, 0) projected
  arc A0 (175, -13) -> (172, -10) centre (172, -13) ccw
  arc A1 (126, -10) -> (123, -13) centre (126, -13) ccw
  arc A2 (92.5, -13) -> (89.5, -10) centre (89.5, -13) ccw
  line L16 (92.5, -10) -> (89.5, -10) construction
  arc A3 (15.5, -10) -> (12.5, -13) centre (15.5, -13) ccw
  point P0 (105.5, -31)
  dimension "d101" = 40
  dimension "d102" = 52
  dimension "d103" = 30.5
  dimension "d104" = 80
  dimension "d105" = 10
  dimension "d106" = 6
  dimension "d107" = 6
  dimension "d108" = 6
  dimension "d109" = 10
  dimension "d110" = 6
extrude "Extrusion11" cut sketch "Sketch12" against normal blind 20
sketch "Sketch17" plane through (0, 0, 31) normal (0, 0, 1) x (1, 0, 0)
  line L0 (86.501, -26.86) -> (114.459, -26.86)
  line L1 (114.459, -26.86) -> (114.459, 83.9)
  line L2 (114.459, 83.9) -> (86.501, 83.9)
  line L3 (86.501, 83.9) -> (86.501, -26.86)
  line L4 (81.501, 83.9) -> (81.501, -26.86) projected
  line L5 (119.459, -81.9) -> (119.459, 81.9) projected
  line L6 (109.459, 91.9) -> (-109.459, 91.9) projected
  line L7 (-105.5, -35.86) -> (109.5, -35.86) projected
  point P0 (0, 0)
  dimension "d148" = 5
  dimension "d149" = 5
  dimension "d150" = 8
  dimension "d151" = 9
  dimension "d167" = 27.958
  dimension "d168" = 110.76
extrude "Extrusion14" cut sketch "Sketch17" against normal blind 20
sketch "Sketch18" plane through (0, 0, 11) normal (0, 0, 1) x (1, 0, 0)
  line L0 (114.459, -26.86) -> (86.501, -26.86) construction
  line L1 (100.48, -26.86) -> (100.48, -21.36) construction
  arc A0 (107.98, -21.36) -> (92.98, -21.36) centre (100.48, -21.36) ccw
  line L2 (107.98, -21.36) -> (107.98, -26.86)
  line L3 (92.98, -21.36) -> (92.98, -26.86)
  line L4 (86.501, 83.9) -> (114.459, 83.9) construction
  line L5 (100.48, 83.9) -> (100.48, 78.4) construction
  arc A1 (94.98, 78.4) -> (105.98, 78.4) centre (100.48, 78.4) ccw
  line L6 (105.98, 78.4) -> (105.98, 83.9)
  line L7 (94.98, 78.4) -> (94.98, 83.9)
  line L8 (94.98, 83.9) -> (86.501, 83.9)
  line L9 (86.501, 83.9) -> (86.501, -26.86)
  line L10 (92.98, -26.86) -> (86.501, -26.86)
  line L11 (114.459, 83.9) -> (114.459, -26.86) projected
  line L12 (107.98, -26.86) -> (114.459, -26.86)
  line L13 (114.459, -26.86) -> (114.459, 83.9)
  line L14 (114.459, 83.9) -> (105.98, 83.9)
  point P0 (0, 0)
  dimension "d154" = 5.5
  dimension "d155" = 5.5
extrude "Extrusion15" cut sketch "Sketch18" against normal blind 10
sketch "Sketch19" plane through (0, 0, 11) normal (0, 0, 1) x (1, 0, 0)
  arc A0 (107.98, -21.36) -> (92.98, -21.36) centre (100.48, -21.36) ccw projected
  circle A1 centre (100.48, -21.36) radius 2.4
  arc A2 (94.98, 78.4) -> (105.98, 78.4) centre (100.48, 78.4) ccw projected
  circle A3 centre (100.48, 78.4) radius 2.4
  line L0 (100.48, -21.36) -> (100.48, 78.4) construction
  line L1 (100.48, -21.36) -> (114.459, -21.36) construction
  line L2 (114.459, 83.9) -> (114.459, -26.86) construction
  line L3 (86.501, 83.9) -> (114.459, 83.9) construction
  line L4 (114.459, 83.9) -> (114.459, -26.86) construction
  point P0 (0, 0)
  dimension "d158" = 4.8
  dimension "d159" = 4.8
  dimension "d164" = 99.76
  dimension "d165" = 13.979
  dimension "d166" = 110.76
extrude "Extrusion16" cut sketch "Sketch19" against normal blind 10
properties part number "CyberDeckCover3Split"
